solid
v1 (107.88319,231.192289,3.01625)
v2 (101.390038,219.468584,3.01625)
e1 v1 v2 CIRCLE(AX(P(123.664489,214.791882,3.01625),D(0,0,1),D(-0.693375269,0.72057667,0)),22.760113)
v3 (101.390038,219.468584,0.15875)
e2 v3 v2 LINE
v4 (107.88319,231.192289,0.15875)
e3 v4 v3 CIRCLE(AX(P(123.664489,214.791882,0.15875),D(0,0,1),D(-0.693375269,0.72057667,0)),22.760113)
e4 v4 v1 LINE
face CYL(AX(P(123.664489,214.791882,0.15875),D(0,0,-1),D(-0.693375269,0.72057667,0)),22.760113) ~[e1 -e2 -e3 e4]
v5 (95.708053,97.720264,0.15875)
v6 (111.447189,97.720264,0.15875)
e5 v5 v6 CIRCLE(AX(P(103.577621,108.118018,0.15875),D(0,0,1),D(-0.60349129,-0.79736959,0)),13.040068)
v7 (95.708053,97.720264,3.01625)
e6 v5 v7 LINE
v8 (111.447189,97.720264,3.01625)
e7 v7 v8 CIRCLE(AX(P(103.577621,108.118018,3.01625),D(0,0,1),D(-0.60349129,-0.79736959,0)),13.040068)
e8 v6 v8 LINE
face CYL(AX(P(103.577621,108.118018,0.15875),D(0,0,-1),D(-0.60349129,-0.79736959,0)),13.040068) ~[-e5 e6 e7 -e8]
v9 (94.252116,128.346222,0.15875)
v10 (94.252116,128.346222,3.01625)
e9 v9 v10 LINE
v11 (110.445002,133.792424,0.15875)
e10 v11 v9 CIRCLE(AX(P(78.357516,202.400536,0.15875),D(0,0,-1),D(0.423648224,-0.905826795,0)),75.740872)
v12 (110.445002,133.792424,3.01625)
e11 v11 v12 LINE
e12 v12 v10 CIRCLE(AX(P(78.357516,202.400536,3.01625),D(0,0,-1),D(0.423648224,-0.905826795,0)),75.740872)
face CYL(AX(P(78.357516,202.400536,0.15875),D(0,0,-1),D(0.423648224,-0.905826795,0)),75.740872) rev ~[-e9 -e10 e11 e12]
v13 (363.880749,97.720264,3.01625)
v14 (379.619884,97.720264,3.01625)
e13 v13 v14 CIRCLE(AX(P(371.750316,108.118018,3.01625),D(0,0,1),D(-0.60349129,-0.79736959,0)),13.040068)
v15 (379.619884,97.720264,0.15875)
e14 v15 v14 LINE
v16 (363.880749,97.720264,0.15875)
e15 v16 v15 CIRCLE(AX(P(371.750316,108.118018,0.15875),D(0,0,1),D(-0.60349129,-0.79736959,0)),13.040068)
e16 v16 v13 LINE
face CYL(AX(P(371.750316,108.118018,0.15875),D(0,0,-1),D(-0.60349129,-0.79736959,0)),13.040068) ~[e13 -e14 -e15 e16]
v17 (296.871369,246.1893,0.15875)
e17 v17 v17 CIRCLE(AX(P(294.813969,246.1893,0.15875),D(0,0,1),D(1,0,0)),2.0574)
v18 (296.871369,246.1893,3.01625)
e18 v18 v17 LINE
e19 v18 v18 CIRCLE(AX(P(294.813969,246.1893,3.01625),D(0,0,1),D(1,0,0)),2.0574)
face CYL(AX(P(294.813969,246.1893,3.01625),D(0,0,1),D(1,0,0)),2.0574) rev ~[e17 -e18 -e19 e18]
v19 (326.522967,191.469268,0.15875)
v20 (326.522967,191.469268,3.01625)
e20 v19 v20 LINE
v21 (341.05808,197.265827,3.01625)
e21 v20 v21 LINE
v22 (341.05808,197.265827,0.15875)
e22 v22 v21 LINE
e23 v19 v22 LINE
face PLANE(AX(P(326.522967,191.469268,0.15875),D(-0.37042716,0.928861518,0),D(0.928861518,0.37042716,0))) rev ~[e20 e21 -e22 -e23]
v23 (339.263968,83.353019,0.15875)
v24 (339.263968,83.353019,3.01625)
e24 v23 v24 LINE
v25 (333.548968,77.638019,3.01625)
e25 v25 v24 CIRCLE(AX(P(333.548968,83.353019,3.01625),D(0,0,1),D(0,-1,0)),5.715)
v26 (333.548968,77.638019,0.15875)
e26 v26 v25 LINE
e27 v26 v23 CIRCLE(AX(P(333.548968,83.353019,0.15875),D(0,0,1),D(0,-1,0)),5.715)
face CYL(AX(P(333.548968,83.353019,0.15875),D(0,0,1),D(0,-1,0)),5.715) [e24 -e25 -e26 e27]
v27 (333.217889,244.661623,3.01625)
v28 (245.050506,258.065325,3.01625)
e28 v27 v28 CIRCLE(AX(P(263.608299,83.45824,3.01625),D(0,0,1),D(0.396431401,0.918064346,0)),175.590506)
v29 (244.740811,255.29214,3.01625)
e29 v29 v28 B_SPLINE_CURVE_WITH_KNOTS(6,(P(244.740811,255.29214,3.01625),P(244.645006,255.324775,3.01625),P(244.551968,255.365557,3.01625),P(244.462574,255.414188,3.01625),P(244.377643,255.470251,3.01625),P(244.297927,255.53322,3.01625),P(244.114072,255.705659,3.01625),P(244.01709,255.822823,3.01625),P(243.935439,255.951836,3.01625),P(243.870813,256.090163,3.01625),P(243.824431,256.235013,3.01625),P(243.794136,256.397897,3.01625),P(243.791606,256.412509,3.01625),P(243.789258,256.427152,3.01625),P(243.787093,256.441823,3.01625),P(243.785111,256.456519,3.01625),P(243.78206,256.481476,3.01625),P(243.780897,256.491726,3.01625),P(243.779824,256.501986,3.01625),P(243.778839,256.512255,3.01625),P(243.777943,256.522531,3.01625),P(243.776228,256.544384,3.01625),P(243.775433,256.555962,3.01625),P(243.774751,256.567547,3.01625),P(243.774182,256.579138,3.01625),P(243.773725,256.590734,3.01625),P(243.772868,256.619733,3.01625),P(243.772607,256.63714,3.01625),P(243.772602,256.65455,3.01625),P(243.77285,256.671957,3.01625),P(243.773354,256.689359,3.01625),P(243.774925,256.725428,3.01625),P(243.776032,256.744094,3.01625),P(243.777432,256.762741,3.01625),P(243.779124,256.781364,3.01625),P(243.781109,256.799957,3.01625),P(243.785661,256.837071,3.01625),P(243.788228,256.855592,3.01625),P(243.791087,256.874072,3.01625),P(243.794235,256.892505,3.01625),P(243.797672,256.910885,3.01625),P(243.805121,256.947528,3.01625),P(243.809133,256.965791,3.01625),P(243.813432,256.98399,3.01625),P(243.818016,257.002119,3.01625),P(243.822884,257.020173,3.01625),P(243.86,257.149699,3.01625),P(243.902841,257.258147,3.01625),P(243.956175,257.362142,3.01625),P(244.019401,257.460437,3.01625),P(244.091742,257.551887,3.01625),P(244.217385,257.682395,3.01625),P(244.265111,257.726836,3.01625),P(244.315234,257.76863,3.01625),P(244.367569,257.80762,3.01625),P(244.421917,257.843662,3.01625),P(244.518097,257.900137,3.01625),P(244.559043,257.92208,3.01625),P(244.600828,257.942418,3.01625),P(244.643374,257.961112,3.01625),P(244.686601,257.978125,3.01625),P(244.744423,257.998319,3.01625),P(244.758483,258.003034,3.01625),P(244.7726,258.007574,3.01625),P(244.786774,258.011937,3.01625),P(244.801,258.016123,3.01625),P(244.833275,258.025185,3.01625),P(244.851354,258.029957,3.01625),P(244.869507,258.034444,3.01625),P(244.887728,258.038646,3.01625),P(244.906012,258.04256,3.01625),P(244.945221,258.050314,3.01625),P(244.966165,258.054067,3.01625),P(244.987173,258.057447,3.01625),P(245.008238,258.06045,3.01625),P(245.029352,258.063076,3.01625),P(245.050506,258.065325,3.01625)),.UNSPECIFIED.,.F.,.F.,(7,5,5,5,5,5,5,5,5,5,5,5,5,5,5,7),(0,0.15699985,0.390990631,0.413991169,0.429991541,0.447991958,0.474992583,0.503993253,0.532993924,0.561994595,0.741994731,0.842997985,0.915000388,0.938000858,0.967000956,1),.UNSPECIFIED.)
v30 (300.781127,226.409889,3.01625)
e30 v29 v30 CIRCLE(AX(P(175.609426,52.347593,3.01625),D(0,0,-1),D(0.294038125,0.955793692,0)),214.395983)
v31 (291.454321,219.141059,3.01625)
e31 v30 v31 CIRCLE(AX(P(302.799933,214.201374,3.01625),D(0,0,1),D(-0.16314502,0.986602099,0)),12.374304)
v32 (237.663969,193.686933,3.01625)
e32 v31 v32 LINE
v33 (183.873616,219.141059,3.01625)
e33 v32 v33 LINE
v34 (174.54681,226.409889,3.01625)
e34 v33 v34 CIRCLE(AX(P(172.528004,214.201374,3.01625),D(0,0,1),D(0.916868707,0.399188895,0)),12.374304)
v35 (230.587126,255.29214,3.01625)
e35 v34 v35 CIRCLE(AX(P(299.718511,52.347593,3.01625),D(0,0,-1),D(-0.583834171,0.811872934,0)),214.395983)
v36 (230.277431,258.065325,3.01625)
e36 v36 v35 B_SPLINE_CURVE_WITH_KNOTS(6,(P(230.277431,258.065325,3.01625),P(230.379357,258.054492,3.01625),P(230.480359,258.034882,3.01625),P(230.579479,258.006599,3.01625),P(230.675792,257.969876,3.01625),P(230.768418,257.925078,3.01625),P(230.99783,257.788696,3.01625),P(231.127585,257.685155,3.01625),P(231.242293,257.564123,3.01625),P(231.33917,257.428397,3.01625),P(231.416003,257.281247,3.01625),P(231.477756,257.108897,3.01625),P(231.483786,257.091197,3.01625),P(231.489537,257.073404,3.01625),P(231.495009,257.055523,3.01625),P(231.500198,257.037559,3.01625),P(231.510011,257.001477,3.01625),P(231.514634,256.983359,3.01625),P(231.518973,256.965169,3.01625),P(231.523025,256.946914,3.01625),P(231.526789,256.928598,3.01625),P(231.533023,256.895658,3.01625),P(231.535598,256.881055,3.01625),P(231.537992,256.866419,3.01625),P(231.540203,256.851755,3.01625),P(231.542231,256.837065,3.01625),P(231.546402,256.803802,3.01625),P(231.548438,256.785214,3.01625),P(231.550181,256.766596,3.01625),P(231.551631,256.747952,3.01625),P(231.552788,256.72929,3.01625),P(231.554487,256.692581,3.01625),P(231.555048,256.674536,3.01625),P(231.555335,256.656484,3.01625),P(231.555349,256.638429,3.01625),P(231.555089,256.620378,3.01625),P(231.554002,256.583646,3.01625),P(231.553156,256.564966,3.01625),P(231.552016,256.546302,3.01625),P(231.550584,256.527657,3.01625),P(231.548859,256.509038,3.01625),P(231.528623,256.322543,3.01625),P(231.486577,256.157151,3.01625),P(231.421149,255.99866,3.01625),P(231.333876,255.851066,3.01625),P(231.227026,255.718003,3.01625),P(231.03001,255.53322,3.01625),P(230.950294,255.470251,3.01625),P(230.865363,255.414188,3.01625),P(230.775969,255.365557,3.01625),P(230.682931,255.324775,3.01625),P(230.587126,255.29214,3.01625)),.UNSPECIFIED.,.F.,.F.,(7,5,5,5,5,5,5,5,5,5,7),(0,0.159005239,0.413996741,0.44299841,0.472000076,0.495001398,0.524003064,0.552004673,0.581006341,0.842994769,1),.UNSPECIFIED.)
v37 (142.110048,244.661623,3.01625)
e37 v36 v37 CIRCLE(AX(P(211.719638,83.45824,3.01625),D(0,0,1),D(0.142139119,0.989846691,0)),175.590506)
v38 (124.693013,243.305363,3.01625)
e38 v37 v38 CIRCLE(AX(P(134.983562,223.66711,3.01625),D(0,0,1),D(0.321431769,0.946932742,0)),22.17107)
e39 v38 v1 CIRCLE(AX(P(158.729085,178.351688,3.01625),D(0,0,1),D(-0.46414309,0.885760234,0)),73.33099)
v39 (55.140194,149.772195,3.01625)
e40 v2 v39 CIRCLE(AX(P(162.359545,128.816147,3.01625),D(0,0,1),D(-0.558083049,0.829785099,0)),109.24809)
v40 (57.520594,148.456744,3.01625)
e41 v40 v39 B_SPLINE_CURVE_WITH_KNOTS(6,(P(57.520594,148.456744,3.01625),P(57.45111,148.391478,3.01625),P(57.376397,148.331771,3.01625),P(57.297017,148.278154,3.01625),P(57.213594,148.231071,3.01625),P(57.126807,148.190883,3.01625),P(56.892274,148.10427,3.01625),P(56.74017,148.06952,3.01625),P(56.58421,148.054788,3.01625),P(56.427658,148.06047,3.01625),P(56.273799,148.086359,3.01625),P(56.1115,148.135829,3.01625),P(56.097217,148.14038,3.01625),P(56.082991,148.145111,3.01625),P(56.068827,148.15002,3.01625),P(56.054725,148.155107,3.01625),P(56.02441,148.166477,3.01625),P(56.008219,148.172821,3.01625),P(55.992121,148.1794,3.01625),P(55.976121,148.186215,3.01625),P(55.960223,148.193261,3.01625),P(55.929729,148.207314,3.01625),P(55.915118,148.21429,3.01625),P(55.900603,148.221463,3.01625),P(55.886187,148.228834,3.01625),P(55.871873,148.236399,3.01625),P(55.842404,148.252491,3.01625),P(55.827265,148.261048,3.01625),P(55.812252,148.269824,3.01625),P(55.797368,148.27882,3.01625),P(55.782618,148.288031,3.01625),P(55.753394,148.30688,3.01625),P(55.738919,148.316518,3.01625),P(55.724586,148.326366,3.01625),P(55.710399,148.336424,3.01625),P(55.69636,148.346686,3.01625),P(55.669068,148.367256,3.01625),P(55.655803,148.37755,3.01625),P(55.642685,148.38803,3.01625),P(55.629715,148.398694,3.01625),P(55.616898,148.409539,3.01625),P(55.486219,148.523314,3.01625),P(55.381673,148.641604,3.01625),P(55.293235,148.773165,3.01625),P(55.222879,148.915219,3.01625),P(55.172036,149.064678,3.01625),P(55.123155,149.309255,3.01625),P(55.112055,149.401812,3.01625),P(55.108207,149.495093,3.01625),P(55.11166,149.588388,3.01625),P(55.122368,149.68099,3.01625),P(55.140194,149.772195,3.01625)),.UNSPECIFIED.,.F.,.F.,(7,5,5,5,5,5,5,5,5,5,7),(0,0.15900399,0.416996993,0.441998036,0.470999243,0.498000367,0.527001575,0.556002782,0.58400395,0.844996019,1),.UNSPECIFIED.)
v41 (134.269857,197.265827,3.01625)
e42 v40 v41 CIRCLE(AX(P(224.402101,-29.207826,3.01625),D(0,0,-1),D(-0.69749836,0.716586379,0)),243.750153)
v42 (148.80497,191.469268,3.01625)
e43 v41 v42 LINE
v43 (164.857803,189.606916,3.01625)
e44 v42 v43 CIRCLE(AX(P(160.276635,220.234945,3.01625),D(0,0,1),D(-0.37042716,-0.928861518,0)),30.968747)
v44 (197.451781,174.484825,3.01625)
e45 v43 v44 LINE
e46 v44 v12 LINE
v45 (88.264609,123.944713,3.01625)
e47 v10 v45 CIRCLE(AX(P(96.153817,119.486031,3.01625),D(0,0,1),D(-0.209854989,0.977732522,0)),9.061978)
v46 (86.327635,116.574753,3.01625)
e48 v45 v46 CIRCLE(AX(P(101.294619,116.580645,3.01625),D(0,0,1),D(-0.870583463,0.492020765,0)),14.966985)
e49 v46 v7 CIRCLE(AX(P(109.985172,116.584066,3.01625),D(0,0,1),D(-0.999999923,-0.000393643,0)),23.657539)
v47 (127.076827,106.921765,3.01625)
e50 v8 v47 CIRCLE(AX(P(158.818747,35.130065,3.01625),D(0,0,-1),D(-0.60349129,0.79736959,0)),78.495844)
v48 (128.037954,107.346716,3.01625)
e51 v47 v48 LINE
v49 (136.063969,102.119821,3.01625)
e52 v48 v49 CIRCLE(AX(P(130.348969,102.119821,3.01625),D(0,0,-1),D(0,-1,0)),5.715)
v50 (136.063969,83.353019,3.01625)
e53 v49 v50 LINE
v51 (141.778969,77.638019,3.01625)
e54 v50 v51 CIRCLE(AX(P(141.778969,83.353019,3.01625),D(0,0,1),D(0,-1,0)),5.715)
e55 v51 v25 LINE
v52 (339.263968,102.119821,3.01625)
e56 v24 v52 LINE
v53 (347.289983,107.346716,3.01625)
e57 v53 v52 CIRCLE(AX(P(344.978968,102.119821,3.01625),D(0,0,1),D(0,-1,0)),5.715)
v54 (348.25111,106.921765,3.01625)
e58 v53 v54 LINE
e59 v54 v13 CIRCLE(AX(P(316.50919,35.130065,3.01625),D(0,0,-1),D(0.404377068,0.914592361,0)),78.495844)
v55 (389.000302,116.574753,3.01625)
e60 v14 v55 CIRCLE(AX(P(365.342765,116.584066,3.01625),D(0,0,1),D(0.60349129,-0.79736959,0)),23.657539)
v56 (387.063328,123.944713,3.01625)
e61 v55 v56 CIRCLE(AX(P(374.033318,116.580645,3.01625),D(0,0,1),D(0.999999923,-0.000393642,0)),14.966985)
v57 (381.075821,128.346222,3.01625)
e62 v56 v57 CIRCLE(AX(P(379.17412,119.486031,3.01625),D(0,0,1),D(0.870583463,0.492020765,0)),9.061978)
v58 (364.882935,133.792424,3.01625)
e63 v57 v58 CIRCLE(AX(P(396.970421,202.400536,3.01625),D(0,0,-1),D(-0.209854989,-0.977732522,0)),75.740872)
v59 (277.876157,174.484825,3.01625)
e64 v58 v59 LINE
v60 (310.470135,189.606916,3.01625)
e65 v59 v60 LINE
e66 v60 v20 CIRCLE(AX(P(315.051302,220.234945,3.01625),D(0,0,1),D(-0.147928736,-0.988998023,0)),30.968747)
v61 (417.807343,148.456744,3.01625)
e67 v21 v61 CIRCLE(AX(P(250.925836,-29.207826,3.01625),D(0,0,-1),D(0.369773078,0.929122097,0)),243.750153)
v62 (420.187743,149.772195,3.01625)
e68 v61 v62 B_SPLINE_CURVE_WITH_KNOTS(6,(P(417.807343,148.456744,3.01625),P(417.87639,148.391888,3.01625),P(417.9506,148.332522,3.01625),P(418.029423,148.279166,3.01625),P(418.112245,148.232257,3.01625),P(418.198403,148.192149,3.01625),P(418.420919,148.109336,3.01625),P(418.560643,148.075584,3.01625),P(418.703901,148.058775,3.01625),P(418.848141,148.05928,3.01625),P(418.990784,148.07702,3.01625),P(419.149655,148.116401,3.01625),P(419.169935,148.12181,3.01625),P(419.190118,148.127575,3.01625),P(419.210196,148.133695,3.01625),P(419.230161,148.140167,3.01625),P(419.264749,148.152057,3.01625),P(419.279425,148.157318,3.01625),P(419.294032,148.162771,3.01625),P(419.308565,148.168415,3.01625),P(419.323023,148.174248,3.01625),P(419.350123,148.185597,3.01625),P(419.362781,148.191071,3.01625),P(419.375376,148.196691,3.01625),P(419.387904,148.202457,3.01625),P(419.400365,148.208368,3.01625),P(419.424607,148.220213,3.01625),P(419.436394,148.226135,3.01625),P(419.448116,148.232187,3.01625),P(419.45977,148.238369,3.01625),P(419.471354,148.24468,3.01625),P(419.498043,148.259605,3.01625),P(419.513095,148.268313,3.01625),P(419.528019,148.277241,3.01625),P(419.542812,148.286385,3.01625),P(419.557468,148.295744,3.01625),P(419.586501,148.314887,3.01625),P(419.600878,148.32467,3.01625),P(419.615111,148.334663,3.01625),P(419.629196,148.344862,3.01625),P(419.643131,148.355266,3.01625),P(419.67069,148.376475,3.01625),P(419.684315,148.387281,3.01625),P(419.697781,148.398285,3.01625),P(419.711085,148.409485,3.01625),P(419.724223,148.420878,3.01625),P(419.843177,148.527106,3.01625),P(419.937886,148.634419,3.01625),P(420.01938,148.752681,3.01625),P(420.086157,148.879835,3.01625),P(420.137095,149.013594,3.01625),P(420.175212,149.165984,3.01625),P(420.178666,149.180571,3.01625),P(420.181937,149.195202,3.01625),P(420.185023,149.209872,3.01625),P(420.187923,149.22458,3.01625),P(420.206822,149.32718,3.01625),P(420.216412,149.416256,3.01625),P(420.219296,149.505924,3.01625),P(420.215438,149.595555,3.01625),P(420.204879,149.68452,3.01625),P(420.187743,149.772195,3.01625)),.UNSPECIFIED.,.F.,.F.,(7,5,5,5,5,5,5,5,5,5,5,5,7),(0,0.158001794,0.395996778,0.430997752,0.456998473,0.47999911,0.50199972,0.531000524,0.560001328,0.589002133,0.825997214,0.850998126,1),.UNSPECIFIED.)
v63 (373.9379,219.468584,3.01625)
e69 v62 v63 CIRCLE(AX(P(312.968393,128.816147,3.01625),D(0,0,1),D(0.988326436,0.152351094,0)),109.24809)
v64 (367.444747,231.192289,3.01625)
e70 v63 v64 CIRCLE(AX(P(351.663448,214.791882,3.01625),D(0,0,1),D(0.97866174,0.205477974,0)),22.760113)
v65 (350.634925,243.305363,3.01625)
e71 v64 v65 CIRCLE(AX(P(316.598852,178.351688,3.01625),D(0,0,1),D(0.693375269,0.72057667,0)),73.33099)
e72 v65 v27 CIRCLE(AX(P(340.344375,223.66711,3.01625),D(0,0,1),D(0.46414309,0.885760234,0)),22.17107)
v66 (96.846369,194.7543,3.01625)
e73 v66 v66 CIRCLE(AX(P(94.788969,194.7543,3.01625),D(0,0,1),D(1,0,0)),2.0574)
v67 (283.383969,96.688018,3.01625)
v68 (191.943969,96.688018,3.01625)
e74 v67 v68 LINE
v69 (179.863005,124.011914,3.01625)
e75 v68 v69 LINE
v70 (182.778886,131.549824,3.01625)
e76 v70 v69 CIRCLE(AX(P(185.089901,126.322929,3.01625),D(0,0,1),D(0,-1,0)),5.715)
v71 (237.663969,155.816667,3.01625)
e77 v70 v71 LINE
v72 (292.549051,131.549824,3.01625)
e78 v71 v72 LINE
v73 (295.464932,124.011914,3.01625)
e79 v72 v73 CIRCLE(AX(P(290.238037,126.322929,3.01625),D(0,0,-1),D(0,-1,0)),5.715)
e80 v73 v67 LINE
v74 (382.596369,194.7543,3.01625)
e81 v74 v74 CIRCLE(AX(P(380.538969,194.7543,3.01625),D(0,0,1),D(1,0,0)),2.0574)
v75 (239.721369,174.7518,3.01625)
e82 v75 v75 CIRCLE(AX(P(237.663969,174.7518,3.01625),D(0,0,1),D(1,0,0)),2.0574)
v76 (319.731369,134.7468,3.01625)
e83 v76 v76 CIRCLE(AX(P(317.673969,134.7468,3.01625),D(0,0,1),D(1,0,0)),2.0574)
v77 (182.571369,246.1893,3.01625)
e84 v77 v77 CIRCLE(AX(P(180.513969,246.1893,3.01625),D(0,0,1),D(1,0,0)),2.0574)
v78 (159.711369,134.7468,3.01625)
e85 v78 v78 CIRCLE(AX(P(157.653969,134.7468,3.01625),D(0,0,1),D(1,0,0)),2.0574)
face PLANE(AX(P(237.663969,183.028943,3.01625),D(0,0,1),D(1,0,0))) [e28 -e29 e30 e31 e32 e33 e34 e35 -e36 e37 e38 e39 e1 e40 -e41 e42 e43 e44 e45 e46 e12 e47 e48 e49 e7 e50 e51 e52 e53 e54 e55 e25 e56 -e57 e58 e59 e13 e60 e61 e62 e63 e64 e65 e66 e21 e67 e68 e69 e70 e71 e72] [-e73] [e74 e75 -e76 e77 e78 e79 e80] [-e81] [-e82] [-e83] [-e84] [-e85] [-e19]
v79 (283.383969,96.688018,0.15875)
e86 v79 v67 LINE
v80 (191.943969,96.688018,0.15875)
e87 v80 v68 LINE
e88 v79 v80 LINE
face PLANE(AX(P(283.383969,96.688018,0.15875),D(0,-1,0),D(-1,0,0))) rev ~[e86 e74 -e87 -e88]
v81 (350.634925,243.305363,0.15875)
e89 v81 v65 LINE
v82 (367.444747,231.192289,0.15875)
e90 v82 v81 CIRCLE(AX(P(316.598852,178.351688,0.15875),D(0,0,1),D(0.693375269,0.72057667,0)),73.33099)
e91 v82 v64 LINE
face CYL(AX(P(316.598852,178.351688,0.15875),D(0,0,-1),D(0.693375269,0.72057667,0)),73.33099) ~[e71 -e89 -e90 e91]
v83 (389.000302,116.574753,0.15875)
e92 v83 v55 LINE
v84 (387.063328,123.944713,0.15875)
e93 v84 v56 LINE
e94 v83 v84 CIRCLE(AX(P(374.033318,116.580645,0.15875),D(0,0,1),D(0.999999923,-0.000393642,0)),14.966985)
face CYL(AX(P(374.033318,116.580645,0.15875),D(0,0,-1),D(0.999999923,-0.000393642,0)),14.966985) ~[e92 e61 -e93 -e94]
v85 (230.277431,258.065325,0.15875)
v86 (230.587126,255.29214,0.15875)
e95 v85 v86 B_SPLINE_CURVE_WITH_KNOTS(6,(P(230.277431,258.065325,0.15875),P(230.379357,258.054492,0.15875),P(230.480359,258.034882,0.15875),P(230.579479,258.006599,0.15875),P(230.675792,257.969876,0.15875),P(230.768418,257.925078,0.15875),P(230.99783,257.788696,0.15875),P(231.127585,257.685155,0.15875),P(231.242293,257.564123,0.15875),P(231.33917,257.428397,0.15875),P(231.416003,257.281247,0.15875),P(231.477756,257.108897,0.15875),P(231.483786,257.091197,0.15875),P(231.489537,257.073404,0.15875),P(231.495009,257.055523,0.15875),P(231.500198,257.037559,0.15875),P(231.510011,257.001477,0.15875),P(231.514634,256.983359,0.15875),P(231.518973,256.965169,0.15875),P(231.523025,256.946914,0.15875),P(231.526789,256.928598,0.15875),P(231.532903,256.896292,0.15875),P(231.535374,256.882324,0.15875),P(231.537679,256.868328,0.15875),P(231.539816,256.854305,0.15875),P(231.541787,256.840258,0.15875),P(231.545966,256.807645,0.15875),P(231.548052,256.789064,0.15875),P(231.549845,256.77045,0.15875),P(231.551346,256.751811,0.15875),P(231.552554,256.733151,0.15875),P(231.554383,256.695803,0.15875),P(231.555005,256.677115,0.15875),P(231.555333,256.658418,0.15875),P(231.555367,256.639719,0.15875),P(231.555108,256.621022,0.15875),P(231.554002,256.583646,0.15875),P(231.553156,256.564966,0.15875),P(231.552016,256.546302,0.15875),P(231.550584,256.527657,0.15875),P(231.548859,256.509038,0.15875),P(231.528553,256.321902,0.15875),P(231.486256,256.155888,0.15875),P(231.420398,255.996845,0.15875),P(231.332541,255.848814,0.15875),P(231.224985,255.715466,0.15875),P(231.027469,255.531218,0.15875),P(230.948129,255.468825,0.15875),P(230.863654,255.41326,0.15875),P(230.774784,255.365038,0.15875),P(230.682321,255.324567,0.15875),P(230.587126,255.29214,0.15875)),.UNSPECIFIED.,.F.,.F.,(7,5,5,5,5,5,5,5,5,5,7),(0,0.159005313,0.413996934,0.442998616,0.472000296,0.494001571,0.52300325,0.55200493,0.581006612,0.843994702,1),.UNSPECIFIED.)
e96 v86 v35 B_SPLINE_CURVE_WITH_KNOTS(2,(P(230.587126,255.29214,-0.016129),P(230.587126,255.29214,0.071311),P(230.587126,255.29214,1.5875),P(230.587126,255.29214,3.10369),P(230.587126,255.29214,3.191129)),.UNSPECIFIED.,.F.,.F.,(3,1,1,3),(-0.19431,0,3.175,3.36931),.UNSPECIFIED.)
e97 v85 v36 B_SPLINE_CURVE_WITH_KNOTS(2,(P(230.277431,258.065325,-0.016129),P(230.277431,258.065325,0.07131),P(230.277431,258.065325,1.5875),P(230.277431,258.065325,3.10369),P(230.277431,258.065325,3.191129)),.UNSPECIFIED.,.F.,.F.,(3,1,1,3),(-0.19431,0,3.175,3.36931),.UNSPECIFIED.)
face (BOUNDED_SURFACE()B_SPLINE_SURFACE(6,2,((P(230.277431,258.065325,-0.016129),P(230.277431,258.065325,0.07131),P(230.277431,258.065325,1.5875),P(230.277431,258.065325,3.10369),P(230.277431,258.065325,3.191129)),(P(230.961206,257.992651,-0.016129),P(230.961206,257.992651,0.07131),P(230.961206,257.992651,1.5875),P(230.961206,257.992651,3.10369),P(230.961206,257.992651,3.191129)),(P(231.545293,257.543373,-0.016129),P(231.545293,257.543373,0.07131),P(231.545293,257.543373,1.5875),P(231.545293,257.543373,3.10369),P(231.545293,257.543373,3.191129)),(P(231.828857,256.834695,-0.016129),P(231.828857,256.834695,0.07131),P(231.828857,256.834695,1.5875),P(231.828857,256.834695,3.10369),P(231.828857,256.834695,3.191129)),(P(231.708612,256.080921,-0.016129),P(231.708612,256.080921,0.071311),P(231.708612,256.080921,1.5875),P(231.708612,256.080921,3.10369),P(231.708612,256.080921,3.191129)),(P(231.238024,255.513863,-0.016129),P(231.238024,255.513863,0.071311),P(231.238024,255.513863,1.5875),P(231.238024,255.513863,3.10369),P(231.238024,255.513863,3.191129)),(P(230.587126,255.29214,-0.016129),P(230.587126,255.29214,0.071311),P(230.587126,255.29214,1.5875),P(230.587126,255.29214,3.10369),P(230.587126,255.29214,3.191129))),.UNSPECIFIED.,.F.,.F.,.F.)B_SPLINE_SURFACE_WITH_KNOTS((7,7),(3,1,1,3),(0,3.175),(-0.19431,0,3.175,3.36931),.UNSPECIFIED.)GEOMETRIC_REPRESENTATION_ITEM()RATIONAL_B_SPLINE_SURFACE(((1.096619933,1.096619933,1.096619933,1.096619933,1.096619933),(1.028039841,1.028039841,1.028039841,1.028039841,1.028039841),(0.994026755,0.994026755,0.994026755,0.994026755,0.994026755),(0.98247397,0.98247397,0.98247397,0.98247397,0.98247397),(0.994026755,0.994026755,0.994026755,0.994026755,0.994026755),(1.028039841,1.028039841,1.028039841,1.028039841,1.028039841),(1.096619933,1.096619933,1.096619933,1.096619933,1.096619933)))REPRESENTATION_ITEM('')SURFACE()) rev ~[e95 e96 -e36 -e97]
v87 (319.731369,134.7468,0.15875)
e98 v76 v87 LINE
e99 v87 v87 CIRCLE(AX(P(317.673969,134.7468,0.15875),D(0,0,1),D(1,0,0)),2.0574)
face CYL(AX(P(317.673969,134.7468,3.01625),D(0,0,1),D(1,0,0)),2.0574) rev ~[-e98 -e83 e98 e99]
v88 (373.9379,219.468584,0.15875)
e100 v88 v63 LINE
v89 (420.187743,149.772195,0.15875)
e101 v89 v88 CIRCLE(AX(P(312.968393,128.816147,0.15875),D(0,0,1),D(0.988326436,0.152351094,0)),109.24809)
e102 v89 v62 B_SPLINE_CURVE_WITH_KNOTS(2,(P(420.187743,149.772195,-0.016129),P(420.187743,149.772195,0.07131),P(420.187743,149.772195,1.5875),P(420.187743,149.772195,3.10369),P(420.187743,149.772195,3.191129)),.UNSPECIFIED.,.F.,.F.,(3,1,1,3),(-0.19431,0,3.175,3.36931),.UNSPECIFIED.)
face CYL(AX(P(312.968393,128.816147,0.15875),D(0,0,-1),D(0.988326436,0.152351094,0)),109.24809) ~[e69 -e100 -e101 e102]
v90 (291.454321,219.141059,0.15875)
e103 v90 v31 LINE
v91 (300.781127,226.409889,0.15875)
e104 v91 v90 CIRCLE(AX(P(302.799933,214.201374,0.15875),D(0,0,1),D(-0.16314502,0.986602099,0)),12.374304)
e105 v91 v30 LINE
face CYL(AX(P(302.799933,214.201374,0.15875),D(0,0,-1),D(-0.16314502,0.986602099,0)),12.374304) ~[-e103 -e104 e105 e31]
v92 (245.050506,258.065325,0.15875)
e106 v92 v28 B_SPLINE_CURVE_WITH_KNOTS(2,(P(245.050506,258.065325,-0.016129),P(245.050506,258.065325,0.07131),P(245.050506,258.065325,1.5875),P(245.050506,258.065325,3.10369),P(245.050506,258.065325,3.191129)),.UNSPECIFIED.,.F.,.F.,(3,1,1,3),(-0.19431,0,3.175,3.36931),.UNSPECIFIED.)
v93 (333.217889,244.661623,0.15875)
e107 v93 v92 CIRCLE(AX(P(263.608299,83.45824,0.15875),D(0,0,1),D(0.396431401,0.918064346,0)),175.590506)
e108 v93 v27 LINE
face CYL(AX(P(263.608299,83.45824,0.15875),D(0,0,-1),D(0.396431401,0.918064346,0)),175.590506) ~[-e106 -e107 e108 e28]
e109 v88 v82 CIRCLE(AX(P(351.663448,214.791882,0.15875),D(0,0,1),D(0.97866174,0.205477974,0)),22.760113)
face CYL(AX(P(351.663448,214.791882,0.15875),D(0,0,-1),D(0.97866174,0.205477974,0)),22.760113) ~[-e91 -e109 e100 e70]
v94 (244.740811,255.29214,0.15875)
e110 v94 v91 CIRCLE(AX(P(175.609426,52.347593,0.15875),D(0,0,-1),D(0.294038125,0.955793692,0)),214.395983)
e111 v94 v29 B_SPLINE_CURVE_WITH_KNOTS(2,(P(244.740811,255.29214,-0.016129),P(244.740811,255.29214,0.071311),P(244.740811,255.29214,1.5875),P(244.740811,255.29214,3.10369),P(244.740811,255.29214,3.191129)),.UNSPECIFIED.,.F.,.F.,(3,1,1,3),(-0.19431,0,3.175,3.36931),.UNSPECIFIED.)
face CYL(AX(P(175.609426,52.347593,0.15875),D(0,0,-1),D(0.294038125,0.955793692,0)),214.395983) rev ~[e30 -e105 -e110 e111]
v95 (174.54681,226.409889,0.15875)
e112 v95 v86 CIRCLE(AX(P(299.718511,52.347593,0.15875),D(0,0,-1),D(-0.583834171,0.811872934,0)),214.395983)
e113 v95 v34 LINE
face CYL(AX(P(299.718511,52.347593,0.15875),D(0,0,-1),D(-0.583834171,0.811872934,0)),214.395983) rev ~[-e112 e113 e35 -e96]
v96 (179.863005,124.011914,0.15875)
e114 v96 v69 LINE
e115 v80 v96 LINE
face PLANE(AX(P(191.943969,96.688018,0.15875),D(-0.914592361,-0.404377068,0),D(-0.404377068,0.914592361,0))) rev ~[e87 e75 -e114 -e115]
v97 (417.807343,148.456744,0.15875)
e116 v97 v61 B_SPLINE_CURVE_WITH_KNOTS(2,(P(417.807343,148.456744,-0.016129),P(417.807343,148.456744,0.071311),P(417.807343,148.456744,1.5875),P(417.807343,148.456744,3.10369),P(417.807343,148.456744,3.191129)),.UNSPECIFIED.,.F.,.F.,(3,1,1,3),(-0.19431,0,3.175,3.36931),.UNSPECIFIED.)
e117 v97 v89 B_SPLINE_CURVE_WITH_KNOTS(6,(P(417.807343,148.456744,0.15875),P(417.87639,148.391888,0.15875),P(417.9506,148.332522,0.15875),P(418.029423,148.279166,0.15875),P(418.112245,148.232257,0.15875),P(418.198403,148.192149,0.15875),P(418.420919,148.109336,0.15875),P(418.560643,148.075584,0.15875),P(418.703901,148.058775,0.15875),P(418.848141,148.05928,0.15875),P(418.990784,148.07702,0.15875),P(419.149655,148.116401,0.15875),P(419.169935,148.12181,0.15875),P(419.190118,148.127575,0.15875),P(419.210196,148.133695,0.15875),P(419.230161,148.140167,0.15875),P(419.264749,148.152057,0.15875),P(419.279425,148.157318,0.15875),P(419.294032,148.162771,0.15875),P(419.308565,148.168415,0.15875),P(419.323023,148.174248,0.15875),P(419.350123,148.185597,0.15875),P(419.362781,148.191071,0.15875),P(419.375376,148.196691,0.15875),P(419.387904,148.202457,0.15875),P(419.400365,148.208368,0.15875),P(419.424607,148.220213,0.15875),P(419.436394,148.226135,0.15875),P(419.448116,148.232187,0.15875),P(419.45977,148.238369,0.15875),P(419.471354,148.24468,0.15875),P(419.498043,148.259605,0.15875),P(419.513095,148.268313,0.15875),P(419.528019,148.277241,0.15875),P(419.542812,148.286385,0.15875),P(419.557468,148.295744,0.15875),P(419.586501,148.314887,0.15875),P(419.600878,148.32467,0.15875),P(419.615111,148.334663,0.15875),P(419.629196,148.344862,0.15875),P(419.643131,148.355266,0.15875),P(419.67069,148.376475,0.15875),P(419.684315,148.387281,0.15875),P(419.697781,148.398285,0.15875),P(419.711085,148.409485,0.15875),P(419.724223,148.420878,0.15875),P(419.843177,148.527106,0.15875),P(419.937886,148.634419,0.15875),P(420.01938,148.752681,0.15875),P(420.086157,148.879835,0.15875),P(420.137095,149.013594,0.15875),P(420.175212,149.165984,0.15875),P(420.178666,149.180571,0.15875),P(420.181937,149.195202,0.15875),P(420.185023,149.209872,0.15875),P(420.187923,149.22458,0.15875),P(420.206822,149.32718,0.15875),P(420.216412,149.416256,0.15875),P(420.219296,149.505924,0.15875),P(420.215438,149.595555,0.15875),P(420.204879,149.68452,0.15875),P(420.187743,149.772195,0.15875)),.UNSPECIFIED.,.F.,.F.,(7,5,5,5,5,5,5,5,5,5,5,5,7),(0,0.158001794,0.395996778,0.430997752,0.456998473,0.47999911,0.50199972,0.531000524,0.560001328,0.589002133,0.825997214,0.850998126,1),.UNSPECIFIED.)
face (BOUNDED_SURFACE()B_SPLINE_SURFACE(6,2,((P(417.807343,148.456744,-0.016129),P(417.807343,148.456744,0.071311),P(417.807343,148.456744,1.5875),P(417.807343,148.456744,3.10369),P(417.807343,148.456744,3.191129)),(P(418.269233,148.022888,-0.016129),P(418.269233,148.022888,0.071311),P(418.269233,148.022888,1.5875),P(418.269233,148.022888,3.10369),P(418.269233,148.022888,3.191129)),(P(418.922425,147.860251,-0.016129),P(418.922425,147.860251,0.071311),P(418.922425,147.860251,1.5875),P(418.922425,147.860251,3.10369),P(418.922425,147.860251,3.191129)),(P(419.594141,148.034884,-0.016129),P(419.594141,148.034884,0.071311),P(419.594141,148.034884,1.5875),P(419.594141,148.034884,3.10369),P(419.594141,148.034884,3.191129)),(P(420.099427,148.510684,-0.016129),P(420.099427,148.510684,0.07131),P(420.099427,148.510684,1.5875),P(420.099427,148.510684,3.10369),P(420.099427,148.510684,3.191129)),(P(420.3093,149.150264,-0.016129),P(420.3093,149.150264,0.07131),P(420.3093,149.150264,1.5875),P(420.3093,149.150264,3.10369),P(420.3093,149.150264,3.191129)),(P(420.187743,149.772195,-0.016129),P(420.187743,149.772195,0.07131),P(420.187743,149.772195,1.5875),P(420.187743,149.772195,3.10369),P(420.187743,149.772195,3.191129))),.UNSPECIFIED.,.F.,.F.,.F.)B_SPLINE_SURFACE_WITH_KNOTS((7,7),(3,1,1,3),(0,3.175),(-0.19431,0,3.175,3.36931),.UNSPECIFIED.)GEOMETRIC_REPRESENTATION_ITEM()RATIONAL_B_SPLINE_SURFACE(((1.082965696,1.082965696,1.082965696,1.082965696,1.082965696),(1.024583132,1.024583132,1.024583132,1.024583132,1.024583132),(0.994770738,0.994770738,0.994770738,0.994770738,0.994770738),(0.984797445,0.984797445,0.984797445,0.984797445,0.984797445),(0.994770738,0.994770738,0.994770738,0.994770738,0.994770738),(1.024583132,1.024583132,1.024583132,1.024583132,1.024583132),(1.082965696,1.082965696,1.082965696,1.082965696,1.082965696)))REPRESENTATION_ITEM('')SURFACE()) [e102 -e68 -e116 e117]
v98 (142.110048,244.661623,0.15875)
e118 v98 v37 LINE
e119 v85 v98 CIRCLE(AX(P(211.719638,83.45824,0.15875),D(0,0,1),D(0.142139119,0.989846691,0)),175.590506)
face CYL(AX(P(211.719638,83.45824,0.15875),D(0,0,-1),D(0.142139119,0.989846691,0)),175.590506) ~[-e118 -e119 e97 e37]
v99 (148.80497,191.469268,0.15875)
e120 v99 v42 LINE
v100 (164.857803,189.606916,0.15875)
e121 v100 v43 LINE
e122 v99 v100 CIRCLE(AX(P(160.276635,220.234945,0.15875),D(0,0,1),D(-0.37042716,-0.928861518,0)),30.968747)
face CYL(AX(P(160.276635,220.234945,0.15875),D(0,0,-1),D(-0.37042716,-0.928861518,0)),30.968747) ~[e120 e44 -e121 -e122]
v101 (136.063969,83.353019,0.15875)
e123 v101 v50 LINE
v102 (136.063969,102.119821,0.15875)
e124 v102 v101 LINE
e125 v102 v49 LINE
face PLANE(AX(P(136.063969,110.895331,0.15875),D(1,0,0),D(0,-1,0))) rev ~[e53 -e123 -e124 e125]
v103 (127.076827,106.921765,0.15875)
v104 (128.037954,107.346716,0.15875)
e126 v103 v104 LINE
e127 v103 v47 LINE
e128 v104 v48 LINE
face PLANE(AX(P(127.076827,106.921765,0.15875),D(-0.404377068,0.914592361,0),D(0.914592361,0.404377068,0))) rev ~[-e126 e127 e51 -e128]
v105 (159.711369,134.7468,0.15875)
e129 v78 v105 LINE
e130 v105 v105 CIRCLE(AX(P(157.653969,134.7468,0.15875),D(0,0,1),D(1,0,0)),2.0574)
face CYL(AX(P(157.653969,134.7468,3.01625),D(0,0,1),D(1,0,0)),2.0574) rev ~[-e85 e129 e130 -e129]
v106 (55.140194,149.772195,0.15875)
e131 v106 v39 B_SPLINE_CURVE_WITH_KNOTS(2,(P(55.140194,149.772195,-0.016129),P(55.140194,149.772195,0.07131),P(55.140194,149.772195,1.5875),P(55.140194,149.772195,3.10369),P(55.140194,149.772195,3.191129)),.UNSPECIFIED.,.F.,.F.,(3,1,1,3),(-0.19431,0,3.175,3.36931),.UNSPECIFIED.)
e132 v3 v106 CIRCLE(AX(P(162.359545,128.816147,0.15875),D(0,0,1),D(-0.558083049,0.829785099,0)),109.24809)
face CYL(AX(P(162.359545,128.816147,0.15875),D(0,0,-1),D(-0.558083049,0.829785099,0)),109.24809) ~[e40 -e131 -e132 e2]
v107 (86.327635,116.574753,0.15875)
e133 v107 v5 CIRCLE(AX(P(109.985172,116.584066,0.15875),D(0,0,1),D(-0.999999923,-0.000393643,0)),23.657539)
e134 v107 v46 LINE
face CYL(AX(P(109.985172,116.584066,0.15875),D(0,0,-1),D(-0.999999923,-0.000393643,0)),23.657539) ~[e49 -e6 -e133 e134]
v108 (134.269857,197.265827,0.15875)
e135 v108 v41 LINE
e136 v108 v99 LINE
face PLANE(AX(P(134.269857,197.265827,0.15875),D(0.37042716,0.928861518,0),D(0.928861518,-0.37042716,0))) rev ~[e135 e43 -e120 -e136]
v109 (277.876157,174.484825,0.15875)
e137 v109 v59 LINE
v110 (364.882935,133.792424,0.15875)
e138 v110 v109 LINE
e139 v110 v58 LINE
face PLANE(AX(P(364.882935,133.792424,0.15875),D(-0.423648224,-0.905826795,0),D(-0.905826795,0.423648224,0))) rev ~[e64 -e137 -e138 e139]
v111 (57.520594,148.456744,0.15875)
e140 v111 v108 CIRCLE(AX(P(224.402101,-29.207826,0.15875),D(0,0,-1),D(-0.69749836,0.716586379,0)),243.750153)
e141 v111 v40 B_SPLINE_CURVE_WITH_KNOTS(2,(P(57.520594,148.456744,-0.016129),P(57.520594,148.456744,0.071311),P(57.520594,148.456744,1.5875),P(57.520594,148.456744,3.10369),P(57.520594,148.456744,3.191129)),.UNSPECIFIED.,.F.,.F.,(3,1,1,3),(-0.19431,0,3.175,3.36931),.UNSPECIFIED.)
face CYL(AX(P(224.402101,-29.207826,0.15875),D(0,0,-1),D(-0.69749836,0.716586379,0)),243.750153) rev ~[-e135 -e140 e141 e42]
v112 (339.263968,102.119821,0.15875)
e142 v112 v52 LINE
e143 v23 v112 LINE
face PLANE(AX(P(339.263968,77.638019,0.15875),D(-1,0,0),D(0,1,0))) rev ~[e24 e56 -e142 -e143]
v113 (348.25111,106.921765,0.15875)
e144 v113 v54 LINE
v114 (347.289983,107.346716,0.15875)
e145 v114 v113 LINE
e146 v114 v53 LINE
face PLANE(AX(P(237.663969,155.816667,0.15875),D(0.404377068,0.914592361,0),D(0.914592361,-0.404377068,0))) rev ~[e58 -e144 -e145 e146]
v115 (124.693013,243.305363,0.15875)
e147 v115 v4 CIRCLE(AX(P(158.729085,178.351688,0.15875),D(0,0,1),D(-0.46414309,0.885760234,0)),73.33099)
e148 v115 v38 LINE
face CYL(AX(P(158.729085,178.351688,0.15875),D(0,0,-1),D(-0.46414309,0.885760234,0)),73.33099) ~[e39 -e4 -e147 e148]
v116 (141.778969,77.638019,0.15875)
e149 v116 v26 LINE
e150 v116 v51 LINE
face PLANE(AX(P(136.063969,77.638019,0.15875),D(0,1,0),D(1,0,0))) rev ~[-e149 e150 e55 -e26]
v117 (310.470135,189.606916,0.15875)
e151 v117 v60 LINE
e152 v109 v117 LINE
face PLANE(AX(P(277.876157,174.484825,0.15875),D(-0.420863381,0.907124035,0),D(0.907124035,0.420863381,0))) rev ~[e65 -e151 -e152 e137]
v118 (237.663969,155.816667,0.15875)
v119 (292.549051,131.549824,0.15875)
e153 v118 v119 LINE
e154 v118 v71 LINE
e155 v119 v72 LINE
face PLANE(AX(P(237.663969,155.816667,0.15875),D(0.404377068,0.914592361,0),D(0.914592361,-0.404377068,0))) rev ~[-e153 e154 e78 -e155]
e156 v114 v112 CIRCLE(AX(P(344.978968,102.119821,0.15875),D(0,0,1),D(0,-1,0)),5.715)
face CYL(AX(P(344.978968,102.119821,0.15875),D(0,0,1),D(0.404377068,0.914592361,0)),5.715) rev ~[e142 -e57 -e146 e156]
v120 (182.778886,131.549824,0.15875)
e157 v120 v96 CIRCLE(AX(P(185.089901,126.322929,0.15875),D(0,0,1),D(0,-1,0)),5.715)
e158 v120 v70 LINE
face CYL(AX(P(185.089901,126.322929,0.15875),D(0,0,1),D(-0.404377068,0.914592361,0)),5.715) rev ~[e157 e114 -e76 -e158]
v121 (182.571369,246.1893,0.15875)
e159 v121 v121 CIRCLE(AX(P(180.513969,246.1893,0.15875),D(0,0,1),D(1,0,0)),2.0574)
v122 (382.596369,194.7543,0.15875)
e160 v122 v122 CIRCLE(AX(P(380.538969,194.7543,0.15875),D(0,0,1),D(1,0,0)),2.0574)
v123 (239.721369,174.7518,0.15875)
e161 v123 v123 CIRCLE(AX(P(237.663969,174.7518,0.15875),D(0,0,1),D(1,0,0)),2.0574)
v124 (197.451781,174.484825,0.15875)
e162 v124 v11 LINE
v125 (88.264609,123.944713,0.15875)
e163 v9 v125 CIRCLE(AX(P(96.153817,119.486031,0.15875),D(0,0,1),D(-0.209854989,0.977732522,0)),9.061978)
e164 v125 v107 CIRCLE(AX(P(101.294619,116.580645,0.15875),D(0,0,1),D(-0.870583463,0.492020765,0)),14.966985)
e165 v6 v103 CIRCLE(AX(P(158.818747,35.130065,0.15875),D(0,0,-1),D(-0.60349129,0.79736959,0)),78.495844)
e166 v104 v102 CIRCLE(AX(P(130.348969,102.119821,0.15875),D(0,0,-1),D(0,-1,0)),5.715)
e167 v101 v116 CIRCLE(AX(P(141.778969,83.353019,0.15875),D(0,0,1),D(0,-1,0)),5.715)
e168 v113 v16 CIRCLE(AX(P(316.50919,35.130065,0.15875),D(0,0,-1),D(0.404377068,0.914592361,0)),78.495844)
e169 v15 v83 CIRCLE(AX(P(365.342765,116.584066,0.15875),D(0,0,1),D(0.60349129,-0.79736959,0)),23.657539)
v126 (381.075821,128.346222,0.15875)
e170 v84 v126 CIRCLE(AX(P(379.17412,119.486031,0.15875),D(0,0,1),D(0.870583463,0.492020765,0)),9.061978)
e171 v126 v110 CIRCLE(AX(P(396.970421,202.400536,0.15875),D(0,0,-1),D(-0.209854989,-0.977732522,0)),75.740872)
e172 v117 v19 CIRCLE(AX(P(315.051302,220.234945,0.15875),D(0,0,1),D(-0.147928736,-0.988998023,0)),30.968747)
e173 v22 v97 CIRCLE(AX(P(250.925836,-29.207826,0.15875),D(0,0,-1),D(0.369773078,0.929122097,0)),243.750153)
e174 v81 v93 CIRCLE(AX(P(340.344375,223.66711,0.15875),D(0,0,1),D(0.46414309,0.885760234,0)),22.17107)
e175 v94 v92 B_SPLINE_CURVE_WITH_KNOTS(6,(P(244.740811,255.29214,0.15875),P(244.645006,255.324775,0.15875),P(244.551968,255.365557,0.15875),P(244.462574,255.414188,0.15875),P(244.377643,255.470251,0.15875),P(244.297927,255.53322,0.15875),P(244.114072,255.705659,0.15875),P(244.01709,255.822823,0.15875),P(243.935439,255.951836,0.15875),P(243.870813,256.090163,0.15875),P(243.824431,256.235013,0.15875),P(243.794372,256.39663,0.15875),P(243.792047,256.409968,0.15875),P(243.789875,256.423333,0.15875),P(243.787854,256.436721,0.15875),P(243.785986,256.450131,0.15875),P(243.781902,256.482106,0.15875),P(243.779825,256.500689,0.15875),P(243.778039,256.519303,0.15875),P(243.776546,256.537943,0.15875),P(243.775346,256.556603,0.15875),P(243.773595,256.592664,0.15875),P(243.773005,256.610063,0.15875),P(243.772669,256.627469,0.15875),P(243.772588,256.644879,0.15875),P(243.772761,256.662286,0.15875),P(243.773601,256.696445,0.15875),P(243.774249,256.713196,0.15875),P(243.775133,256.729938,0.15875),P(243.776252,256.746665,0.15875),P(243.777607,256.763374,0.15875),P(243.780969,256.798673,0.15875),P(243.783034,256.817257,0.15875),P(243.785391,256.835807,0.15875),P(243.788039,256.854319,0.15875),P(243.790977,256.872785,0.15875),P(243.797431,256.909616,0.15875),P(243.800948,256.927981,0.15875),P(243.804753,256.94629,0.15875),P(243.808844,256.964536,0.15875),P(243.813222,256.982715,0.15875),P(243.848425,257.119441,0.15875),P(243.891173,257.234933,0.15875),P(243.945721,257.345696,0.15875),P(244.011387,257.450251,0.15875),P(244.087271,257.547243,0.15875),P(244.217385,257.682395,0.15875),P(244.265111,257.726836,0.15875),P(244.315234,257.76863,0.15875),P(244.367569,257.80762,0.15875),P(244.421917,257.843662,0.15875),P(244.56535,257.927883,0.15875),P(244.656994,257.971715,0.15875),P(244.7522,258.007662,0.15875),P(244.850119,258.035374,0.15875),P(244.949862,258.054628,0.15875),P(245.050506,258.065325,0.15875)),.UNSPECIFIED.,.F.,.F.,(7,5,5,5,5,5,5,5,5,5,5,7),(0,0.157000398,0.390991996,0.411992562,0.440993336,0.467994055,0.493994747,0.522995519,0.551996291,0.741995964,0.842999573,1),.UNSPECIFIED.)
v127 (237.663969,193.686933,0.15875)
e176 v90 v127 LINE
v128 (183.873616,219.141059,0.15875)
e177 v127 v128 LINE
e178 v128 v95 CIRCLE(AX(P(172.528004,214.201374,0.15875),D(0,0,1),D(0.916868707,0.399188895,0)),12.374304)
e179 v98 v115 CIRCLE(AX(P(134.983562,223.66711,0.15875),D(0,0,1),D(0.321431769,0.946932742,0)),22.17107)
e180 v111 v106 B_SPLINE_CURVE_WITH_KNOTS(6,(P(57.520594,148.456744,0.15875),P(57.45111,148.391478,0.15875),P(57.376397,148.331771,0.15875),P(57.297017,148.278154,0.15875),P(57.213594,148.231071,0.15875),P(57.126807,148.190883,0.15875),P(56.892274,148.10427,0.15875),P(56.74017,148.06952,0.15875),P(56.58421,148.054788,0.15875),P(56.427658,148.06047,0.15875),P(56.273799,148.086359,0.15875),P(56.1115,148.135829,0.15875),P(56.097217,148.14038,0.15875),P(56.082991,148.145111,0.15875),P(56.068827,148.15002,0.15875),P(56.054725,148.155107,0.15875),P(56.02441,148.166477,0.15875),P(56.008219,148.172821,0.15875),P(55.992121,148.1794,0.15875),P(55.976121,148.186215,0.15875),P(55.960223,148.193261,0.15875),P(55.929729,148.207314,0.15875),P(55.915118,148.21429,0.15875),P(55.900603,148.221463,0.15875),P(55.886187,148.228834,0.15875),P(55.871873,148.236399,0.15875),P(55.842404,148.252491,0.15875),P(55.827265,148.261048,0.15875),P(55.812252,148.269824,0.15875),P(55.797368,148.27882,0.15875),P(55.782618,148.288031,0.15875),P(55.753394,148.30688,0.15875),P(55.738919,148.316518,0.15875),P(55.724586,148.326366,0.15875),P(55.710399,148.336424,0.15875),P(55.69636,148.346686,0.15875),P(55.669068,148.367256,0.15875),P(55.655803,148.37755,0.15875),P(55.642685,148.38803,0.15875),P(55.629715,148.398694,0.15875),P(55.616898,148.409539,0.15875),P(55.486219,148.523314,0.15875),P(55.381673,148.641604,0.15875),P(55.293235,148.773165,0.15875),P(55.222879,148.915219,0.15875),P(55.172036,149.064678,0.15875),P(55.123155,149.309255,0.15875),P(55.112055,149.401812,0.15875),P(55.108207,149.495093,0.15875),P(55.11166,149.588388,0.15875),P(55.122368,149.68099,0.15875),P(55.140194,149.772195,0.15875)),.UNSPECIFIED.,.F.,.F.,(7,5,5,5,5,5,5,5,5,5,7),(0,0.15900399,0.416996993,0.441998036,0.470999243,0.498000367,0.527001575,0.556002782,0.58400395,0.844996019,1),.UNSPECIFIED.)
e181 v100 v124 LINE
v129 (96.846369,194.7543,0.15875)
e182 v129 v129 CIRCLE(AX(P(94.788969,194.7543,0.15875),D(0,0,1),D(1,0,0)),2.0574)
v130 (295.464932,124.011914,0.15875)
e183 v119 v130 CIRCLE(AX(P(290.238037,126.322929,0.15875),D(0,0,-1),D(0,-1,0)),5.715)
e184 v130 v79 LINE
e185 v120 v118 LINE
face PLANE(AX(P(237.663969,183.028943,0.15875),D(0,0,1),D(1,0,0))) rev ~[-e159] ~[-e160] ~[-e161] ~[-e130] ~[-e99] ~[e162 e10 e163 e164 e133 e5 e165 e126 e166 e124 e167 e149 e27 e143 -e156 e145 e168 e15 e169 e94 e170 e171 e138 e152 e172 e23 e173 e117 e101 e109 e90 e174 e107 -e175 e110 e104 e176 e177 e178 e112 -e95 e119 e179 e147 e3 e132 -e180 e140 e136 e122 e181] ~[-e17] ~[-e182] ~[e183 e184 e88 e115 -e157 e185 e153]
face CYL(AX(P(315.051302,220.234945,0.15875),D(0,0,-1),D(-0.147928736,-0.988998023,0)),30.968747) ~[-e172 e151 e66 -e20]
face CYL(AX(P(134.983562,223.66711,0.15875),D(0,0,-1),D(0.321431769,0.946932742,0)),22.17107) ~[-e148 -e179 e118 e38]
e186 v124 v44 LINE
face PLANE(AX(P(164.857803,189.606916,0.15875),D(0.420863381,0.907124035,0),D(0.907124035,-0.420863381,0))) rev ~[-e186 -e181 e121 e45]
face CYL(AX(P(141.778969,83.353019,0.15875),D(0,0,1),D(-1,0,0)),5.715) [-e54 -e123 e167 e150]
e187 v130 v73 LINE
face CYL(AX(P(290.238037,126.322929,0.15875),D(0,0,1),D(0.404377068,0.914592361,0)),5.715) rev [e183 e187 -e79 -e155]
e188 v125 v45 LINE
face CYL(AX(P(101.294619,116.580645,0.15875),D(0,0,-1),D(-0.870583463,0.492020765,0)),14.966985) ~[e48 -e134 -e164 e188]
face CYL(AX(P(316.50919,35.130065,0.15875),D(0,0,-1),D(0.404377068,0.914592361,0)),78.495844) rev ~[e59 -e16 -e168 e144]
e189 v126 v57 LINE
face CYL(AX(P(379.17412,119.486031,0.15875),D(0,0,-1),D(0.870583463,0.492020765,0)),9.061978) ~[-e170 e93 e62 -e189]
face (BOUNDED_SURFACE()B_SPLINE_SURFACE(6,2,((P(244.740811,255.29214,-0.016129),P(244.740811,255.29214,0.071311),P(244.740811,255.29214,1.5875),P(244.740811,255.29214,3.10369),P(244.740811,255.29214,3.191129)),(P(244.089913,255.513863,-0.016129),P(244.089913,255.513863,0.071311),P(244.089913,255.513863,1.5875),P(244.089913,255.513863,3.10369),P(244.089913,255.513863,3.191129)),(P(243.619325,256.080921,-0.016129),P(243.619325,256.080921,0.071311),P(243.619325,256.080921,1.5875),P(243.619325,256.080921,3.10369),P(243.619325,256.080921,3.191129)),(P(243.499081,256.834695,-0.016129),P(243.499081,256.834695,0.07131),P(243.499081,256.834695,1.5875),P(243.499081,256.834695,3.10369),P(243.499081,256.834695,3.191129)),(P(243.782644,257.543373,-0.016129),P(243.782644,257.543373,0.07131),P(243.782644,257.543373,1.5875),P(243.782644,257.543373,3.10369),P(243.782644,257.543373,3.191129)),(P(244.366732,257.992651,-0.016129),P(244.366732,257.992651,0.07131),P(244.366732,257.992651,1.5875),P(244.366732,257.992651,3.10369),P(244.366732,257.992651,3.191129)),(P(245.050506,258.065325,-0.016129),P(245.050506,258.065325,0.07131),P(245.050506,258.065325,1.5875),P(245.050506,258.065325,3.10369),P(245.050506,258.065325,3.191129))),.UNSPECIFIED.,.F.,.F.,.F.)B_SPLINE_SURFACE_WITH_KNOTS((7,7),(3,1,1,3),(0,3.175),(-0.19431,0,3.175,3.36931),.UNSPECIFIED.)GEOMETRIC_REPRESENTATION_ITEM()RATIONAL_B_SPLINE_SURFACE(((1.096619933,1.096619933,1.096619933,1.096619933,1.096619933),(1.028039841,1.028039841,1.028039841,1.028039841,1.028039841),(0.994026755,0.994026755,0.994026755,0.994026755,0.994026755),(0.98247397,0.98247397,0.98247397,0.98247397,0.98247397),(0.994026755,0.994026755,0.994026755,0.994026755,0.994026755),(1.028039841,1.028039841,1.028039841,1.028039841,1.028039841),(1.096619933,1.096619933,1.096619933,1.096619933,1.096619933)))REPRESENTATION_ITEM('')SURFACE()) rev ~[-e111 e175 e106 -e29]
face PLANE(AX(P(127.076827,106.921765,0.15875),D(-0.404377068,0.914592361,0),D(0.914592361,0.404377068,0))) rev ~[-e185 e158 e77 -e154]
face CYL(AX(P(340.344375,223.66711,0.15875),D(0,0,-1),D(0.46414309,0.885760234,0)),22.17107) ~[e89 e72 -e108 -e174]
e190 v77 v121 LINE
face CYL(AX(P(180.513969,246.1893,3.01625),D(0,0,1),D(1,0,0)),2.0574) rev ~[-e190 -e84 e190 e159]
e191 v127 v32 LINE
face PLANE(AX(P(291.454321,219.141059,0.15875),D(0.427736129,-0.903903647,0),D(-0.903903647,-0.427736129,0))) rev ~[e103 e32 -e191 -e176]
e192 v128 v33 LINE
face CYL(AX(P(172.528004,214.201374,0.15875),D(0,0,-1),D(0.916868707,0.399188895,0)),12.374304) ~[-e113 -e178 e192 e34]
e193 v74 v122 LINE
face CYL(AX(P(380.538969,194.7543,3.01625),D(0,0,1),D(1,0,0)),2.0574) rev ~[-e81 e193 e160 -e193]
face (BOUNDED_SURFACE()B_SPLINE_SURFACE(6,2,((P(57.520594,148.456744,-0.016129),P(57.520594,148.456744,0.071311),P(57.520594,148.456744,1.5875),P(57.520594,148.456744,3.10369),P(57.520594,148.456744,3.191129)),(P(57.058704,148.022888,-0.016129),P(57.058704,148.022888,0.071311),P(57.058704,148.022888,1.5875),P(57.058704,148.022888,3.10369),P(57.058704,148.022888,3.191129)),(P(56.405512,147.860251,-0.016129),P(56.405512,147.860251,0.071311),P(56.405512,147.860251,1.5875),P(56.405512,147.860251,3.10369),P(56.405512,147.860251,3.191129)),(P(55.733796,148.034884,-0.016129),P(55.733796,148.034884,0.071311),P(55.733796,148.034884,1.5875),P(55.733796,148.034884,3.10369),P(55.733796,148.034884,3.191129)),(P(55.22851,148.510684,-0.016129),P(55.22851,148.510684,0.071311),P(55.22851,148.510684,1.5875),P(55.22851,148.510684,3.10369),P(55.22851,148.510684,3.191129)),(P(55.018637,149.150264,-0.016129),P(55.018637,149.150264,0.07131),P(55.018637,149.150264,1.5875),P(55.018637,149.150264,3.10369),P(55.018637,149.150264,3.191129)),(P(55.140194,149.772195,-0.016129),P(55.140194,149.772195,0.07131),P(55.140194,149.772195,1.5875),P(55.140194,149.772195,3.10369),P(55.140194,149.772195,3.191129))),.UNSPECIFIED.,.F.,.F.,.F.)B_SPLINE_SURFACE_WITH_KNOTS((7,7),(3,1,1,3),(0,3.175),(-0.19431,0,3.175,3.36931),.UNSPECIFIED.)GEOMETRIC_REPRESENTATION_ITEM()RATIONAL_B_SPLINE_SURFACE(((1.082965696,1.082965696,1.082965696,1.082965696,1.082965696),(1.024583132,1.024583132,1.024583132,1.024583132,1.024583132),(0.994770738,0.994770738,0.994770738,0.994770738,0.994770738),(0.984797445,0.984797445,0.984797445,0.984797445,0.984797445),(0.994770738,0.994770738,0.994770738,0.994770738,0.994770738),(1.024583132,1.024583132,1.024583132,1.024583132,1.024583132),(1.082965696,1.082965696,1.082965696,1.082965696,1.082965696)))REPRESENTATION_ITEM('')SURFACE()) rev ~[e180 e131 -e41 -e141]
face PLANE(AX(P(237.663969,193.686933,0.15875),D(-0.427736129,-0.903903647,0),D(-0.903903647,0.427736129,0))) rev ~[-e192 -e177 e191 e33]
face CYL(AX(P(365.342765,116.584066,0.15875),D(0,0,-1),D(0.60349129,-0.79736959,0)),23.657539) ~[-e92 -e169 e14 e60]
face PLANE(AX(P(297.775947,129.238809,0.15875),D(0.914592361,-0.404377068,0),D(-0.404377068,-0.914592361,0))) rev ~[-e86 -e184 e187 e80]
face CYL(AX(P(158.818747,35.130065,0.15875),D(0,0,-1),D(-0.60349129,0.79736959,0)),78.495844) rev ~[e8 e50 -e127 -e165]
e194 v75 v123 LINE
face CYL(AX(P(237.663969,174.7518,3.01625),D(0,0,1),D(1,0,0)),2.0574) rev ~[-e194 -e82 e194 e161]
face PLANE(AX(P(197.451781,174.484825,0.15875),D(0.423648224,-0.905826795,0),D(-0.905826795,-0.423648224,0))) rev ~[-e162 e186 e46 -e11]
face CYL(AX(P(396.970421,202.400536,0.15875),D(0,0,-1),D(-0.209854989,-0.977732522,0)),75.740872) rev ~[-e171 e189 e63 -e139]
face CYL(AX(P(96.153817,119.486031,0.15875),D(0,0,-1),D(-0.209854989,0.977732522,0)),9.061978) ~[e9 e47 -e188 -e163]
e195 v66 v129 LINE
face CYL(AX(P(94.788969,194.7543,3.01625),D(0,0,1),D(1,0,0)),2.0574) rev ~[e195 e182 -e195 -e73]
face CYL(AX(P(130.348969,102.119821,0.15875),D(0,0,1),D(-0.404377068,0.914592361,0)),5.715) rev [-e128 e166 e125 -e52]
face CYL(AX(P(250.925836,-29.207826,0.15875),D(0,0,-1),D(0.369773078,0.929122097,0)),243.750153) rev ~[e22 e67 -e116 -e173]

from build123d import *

# Parameters (mm, degrees)
BOSS_EXTRUDE1_DEPTH = 3.175
BOSS_EXTRUDE2_DEPTH = 3.175
FILLET1_R           = 6.35
SKETCH3_R           = 2.286
CUT_EXTRUDE1_DEPTH  = 518.046822543
FILLET2_R           = 1.5875
SCALE4_SCALE        = 0.9


with BuildPart() as part:
    # Sketch1 → Boss-Extrude1 (new body)
    with BuildSketch(Plane.XY):
        with BuildLine():
            Line((192.983759728, 175.441215803), (96.309561297, 130.227436844))
            ThreePointArc((96.309561297, 130.227436844), (87.484677999, 126.692854878), (78.317465574, 124.176100766))
            ThreePointArc((78.317465574, 124.176100766), (74.466708454, 122.444126875), (71.664680309, 119.285535064))
            ThreePointArc((71.664680309, 119.285535064), (70.058699462, 115.330377605), (69.512486748, 111.096691661))
            ThreePointArc((69.512486748, 111.096691661), (72.264254662, 99.39829615), (79.935173725, 90.147259184))
            ThreePointArc((79.935173725, 90.147259184), (88.679137799, 87.2113543), (97.423101873, 90.147259184))
            ThreePointArc((97.423101873, 90.147259184), (105.809954176, 95.76246485), (114.789367372, 100.371148488))
            Line((114.789367372, 100.371148488), (237.663968602, 154.698817321))
            Line((237.663968602, 154.698817321), (360.538569833, 100.371148488))
            ThreePointArc((360.538569833, 100.371148488), (369.517983029, 95.76246485), (377.904835332, 90.147259184))
            ThreePointArc((377.904835332, 90.147259184), (386.648799405, 87.2113543), (395.392763479, 90.147259184))
            ThreePointArc((395.392763479, 90.147259184), (403.063682542, 99.39829615), (405.815450457, 111.096691661))
            ThreePointArc((405.815450457, 111.096691661), (405.269237742, 115.330377605), (403.663256896, 119.285535064))
            ThreePointArc((403.663256896, 119.285535064), (400.86122875, 122.444126875), (397.01047163, 124.176100766))
            ThreePointArc((397.01047163, 124.176100766), (387.843259205, 126.692854878), (379.018375907, 130.227436844))
            Line((379.018375907, 130.227436844), (282.344177476, 175.441215803))
            Line((282.344177476, 175.441215803), (318.55970852, 192.243538611))
            ThreePointArc((318.55970852, 192.243538611), (327.615304884, 192.094216272), (336.396188974, 194.312818822))
            Line((336.396188974, 194.312818822), (352.546314681, 200.753440043))
            ThreePointArc((352.546314681, 200.753440043), (399.763650832, 176.34843342), (441.305300897, 143.191646915))
            ThreePointArc((441.305300897, 143.191646915), (423.803151272, 189.77617727), (389.079447428, 225.423170147))
            ThreePointArc((389.079447428, 225.423170147), (386.452648862, 232.479391977), (381.864833782, 238.449508393))
            ThreePointArc((381.864833782, 238.449508393), (373.00378877, 245.841981415), (363.187253088, 251.908479853))
            ThreePointArc((363.187253088, 251.908479853), (353.665803765, 254.648371797), (343.834991341, 253.415435392))
            ThreePointArc((343.834991341, 253.415435392), (292.266671735, 267.690958579), (238.759580195, 267.420211094))
            ThreePointArc((238.759580195, 267.420211094), (274.672718132, 253.0886387), (307.794144835, 233.135730718))
            ThreePointArc((307.794144835, 233.135730718), (301.585446406, 230.415438718), (297.431026809, 225.059253268))
            Line((297.431026809, 225.059253268), (237.663968602, 196.776891326))
            Line((237.663968602, 196.776891326), (177.896910395, 225.059253268))
            ThreePointArc((177.896910395, 225.059253268), (173.742490798, 230.415438718), (167.533792369, 233.135730718))
            ThreePointArc((167.533792369, 233.135730718), (200.655219072, 253.0886387), (236.568357009, 267.420211094))
            ThreePointArc((236.568357009, 267.420211094), (183.061265469, 267.690958579), (131.492945863, 253.415435392))
            ThreePointArc((131.492945863, 253.415435392), (121.66213344, 254.648371797), (112.140684116, 251.908479853))
            ThreePointArc((112.140684116, 251.908479853), (102.324148434, 245.841981415), (93.463103422, 238.449508393))
            ThreePointArc((93.463103422, 238.449508393), (88.875288342, 232.479391977), (86.248489776, 225.423170147))
            ThreePointArc((86.248489776, 225.423170147), (51.524785932, 189.77617727), (34.022636308, 143.191646915))
            ThreePointArc((34.022636308, 143.191646915), (75.564286372, 176.34843342), (122.781622523, 200.753440043))
            Line((122.781622523, 200.753440043), (138.931748231, 194.312818822))
            ThreePointArc((138.931748231, 194.312818822), (147.712632321, 192.094216272), (156.768228685, 192.243538611))
            Line((156.768228685, 192.243538611), (192.983759728, 175.441215803))
        make_face()
    extrude(amount=BOSS_EXTRUDE1_DEPTH)

    # Sketch2 → Boss-Extrude2 (add)
    with BuildSketch(Plane.XY):
        Polygon((124.775079826, 104.786222668), (124.775079826, 67.83365331), (350.552857378, 67.83365331), (350.552857378, 104.786222668), (304.455055516, 125.167864508), (288.463968602, 89.00031913), (186.863968602, 89.00031913), (170.872881688, 125.167864508), align=None)
    extrude(amount=BOSS_EXTRUDE2_DEPTH)

    # Fillet1
    fillet1_edges = [part.edges().sort_by_distance(p)[0] for p in [
        (304.455055516, 125.167864508, 1.5875),
        (350.552857378, 104.786222668, 1.5875),
        (350.552857378, 67.83365331, 1.5875),
        (124.775079826, 67.83365331, 1.5875),
        (124.775079826, 104.786222668, 1.5875),
        (170.872881688, 125.167864508, 1.5875),
    ]]
    fillet(fillet1_edges, radius=FILLET1_R)

    # Sketch3 → Cut-Extrude1 (cut, through all)
    with BuildSketch(Plane.XY.offset(3.175)):
        with Locations((237.663968602, 175.737854324)):
            Circle(SKETCH3_R)
        with Locations((78.913968602, 197.962854324)):
            Circle(SKETCH3_R)
        with Locations((174.163968602, 255.112854324)):
            Circle(SKETCH3_R)
        with Locations((301.163968602, 255.112854324)):
            Circle(SKETCH3_R)
        with Locations((396.413968602, 197.962854324)):
            Circle(SKETCH3_R)
        with Locations((148.763968602, 131.287854324)):
            Circle(SKETCH3_R)
        with Locations((326.563968602, 131.287854324)):
            Circle(SKETCH3_R)
    extrude(amount=-CUT_EXTRUDE1_DEPTH, mode=Mode.SUBTRACT)

    # Fillet2
    fillet2_edges = [part.edges().sort_by_distance(p)[0] for p in [
        (34.022636308, 143.191646915, 1.5875),
        (236.568357009, 267.420211094, 1.5875),
        (238.759580195, 267.420211094, 1.5875),
        (441.305300897, 143.191646915, 1.5875),
    ]]
    fillet(fillet2_edges, radius=FILLET2_R)


with BuildPart() as part_1:
    # Scale4: scaled about (237.663968386, 165.877309559, 1.5875)
    add(part.part.scale(SCALE4_SCALE).moved(Location((23.766396839, 16.587730956, 0.15875))))


solid = part_1.part
